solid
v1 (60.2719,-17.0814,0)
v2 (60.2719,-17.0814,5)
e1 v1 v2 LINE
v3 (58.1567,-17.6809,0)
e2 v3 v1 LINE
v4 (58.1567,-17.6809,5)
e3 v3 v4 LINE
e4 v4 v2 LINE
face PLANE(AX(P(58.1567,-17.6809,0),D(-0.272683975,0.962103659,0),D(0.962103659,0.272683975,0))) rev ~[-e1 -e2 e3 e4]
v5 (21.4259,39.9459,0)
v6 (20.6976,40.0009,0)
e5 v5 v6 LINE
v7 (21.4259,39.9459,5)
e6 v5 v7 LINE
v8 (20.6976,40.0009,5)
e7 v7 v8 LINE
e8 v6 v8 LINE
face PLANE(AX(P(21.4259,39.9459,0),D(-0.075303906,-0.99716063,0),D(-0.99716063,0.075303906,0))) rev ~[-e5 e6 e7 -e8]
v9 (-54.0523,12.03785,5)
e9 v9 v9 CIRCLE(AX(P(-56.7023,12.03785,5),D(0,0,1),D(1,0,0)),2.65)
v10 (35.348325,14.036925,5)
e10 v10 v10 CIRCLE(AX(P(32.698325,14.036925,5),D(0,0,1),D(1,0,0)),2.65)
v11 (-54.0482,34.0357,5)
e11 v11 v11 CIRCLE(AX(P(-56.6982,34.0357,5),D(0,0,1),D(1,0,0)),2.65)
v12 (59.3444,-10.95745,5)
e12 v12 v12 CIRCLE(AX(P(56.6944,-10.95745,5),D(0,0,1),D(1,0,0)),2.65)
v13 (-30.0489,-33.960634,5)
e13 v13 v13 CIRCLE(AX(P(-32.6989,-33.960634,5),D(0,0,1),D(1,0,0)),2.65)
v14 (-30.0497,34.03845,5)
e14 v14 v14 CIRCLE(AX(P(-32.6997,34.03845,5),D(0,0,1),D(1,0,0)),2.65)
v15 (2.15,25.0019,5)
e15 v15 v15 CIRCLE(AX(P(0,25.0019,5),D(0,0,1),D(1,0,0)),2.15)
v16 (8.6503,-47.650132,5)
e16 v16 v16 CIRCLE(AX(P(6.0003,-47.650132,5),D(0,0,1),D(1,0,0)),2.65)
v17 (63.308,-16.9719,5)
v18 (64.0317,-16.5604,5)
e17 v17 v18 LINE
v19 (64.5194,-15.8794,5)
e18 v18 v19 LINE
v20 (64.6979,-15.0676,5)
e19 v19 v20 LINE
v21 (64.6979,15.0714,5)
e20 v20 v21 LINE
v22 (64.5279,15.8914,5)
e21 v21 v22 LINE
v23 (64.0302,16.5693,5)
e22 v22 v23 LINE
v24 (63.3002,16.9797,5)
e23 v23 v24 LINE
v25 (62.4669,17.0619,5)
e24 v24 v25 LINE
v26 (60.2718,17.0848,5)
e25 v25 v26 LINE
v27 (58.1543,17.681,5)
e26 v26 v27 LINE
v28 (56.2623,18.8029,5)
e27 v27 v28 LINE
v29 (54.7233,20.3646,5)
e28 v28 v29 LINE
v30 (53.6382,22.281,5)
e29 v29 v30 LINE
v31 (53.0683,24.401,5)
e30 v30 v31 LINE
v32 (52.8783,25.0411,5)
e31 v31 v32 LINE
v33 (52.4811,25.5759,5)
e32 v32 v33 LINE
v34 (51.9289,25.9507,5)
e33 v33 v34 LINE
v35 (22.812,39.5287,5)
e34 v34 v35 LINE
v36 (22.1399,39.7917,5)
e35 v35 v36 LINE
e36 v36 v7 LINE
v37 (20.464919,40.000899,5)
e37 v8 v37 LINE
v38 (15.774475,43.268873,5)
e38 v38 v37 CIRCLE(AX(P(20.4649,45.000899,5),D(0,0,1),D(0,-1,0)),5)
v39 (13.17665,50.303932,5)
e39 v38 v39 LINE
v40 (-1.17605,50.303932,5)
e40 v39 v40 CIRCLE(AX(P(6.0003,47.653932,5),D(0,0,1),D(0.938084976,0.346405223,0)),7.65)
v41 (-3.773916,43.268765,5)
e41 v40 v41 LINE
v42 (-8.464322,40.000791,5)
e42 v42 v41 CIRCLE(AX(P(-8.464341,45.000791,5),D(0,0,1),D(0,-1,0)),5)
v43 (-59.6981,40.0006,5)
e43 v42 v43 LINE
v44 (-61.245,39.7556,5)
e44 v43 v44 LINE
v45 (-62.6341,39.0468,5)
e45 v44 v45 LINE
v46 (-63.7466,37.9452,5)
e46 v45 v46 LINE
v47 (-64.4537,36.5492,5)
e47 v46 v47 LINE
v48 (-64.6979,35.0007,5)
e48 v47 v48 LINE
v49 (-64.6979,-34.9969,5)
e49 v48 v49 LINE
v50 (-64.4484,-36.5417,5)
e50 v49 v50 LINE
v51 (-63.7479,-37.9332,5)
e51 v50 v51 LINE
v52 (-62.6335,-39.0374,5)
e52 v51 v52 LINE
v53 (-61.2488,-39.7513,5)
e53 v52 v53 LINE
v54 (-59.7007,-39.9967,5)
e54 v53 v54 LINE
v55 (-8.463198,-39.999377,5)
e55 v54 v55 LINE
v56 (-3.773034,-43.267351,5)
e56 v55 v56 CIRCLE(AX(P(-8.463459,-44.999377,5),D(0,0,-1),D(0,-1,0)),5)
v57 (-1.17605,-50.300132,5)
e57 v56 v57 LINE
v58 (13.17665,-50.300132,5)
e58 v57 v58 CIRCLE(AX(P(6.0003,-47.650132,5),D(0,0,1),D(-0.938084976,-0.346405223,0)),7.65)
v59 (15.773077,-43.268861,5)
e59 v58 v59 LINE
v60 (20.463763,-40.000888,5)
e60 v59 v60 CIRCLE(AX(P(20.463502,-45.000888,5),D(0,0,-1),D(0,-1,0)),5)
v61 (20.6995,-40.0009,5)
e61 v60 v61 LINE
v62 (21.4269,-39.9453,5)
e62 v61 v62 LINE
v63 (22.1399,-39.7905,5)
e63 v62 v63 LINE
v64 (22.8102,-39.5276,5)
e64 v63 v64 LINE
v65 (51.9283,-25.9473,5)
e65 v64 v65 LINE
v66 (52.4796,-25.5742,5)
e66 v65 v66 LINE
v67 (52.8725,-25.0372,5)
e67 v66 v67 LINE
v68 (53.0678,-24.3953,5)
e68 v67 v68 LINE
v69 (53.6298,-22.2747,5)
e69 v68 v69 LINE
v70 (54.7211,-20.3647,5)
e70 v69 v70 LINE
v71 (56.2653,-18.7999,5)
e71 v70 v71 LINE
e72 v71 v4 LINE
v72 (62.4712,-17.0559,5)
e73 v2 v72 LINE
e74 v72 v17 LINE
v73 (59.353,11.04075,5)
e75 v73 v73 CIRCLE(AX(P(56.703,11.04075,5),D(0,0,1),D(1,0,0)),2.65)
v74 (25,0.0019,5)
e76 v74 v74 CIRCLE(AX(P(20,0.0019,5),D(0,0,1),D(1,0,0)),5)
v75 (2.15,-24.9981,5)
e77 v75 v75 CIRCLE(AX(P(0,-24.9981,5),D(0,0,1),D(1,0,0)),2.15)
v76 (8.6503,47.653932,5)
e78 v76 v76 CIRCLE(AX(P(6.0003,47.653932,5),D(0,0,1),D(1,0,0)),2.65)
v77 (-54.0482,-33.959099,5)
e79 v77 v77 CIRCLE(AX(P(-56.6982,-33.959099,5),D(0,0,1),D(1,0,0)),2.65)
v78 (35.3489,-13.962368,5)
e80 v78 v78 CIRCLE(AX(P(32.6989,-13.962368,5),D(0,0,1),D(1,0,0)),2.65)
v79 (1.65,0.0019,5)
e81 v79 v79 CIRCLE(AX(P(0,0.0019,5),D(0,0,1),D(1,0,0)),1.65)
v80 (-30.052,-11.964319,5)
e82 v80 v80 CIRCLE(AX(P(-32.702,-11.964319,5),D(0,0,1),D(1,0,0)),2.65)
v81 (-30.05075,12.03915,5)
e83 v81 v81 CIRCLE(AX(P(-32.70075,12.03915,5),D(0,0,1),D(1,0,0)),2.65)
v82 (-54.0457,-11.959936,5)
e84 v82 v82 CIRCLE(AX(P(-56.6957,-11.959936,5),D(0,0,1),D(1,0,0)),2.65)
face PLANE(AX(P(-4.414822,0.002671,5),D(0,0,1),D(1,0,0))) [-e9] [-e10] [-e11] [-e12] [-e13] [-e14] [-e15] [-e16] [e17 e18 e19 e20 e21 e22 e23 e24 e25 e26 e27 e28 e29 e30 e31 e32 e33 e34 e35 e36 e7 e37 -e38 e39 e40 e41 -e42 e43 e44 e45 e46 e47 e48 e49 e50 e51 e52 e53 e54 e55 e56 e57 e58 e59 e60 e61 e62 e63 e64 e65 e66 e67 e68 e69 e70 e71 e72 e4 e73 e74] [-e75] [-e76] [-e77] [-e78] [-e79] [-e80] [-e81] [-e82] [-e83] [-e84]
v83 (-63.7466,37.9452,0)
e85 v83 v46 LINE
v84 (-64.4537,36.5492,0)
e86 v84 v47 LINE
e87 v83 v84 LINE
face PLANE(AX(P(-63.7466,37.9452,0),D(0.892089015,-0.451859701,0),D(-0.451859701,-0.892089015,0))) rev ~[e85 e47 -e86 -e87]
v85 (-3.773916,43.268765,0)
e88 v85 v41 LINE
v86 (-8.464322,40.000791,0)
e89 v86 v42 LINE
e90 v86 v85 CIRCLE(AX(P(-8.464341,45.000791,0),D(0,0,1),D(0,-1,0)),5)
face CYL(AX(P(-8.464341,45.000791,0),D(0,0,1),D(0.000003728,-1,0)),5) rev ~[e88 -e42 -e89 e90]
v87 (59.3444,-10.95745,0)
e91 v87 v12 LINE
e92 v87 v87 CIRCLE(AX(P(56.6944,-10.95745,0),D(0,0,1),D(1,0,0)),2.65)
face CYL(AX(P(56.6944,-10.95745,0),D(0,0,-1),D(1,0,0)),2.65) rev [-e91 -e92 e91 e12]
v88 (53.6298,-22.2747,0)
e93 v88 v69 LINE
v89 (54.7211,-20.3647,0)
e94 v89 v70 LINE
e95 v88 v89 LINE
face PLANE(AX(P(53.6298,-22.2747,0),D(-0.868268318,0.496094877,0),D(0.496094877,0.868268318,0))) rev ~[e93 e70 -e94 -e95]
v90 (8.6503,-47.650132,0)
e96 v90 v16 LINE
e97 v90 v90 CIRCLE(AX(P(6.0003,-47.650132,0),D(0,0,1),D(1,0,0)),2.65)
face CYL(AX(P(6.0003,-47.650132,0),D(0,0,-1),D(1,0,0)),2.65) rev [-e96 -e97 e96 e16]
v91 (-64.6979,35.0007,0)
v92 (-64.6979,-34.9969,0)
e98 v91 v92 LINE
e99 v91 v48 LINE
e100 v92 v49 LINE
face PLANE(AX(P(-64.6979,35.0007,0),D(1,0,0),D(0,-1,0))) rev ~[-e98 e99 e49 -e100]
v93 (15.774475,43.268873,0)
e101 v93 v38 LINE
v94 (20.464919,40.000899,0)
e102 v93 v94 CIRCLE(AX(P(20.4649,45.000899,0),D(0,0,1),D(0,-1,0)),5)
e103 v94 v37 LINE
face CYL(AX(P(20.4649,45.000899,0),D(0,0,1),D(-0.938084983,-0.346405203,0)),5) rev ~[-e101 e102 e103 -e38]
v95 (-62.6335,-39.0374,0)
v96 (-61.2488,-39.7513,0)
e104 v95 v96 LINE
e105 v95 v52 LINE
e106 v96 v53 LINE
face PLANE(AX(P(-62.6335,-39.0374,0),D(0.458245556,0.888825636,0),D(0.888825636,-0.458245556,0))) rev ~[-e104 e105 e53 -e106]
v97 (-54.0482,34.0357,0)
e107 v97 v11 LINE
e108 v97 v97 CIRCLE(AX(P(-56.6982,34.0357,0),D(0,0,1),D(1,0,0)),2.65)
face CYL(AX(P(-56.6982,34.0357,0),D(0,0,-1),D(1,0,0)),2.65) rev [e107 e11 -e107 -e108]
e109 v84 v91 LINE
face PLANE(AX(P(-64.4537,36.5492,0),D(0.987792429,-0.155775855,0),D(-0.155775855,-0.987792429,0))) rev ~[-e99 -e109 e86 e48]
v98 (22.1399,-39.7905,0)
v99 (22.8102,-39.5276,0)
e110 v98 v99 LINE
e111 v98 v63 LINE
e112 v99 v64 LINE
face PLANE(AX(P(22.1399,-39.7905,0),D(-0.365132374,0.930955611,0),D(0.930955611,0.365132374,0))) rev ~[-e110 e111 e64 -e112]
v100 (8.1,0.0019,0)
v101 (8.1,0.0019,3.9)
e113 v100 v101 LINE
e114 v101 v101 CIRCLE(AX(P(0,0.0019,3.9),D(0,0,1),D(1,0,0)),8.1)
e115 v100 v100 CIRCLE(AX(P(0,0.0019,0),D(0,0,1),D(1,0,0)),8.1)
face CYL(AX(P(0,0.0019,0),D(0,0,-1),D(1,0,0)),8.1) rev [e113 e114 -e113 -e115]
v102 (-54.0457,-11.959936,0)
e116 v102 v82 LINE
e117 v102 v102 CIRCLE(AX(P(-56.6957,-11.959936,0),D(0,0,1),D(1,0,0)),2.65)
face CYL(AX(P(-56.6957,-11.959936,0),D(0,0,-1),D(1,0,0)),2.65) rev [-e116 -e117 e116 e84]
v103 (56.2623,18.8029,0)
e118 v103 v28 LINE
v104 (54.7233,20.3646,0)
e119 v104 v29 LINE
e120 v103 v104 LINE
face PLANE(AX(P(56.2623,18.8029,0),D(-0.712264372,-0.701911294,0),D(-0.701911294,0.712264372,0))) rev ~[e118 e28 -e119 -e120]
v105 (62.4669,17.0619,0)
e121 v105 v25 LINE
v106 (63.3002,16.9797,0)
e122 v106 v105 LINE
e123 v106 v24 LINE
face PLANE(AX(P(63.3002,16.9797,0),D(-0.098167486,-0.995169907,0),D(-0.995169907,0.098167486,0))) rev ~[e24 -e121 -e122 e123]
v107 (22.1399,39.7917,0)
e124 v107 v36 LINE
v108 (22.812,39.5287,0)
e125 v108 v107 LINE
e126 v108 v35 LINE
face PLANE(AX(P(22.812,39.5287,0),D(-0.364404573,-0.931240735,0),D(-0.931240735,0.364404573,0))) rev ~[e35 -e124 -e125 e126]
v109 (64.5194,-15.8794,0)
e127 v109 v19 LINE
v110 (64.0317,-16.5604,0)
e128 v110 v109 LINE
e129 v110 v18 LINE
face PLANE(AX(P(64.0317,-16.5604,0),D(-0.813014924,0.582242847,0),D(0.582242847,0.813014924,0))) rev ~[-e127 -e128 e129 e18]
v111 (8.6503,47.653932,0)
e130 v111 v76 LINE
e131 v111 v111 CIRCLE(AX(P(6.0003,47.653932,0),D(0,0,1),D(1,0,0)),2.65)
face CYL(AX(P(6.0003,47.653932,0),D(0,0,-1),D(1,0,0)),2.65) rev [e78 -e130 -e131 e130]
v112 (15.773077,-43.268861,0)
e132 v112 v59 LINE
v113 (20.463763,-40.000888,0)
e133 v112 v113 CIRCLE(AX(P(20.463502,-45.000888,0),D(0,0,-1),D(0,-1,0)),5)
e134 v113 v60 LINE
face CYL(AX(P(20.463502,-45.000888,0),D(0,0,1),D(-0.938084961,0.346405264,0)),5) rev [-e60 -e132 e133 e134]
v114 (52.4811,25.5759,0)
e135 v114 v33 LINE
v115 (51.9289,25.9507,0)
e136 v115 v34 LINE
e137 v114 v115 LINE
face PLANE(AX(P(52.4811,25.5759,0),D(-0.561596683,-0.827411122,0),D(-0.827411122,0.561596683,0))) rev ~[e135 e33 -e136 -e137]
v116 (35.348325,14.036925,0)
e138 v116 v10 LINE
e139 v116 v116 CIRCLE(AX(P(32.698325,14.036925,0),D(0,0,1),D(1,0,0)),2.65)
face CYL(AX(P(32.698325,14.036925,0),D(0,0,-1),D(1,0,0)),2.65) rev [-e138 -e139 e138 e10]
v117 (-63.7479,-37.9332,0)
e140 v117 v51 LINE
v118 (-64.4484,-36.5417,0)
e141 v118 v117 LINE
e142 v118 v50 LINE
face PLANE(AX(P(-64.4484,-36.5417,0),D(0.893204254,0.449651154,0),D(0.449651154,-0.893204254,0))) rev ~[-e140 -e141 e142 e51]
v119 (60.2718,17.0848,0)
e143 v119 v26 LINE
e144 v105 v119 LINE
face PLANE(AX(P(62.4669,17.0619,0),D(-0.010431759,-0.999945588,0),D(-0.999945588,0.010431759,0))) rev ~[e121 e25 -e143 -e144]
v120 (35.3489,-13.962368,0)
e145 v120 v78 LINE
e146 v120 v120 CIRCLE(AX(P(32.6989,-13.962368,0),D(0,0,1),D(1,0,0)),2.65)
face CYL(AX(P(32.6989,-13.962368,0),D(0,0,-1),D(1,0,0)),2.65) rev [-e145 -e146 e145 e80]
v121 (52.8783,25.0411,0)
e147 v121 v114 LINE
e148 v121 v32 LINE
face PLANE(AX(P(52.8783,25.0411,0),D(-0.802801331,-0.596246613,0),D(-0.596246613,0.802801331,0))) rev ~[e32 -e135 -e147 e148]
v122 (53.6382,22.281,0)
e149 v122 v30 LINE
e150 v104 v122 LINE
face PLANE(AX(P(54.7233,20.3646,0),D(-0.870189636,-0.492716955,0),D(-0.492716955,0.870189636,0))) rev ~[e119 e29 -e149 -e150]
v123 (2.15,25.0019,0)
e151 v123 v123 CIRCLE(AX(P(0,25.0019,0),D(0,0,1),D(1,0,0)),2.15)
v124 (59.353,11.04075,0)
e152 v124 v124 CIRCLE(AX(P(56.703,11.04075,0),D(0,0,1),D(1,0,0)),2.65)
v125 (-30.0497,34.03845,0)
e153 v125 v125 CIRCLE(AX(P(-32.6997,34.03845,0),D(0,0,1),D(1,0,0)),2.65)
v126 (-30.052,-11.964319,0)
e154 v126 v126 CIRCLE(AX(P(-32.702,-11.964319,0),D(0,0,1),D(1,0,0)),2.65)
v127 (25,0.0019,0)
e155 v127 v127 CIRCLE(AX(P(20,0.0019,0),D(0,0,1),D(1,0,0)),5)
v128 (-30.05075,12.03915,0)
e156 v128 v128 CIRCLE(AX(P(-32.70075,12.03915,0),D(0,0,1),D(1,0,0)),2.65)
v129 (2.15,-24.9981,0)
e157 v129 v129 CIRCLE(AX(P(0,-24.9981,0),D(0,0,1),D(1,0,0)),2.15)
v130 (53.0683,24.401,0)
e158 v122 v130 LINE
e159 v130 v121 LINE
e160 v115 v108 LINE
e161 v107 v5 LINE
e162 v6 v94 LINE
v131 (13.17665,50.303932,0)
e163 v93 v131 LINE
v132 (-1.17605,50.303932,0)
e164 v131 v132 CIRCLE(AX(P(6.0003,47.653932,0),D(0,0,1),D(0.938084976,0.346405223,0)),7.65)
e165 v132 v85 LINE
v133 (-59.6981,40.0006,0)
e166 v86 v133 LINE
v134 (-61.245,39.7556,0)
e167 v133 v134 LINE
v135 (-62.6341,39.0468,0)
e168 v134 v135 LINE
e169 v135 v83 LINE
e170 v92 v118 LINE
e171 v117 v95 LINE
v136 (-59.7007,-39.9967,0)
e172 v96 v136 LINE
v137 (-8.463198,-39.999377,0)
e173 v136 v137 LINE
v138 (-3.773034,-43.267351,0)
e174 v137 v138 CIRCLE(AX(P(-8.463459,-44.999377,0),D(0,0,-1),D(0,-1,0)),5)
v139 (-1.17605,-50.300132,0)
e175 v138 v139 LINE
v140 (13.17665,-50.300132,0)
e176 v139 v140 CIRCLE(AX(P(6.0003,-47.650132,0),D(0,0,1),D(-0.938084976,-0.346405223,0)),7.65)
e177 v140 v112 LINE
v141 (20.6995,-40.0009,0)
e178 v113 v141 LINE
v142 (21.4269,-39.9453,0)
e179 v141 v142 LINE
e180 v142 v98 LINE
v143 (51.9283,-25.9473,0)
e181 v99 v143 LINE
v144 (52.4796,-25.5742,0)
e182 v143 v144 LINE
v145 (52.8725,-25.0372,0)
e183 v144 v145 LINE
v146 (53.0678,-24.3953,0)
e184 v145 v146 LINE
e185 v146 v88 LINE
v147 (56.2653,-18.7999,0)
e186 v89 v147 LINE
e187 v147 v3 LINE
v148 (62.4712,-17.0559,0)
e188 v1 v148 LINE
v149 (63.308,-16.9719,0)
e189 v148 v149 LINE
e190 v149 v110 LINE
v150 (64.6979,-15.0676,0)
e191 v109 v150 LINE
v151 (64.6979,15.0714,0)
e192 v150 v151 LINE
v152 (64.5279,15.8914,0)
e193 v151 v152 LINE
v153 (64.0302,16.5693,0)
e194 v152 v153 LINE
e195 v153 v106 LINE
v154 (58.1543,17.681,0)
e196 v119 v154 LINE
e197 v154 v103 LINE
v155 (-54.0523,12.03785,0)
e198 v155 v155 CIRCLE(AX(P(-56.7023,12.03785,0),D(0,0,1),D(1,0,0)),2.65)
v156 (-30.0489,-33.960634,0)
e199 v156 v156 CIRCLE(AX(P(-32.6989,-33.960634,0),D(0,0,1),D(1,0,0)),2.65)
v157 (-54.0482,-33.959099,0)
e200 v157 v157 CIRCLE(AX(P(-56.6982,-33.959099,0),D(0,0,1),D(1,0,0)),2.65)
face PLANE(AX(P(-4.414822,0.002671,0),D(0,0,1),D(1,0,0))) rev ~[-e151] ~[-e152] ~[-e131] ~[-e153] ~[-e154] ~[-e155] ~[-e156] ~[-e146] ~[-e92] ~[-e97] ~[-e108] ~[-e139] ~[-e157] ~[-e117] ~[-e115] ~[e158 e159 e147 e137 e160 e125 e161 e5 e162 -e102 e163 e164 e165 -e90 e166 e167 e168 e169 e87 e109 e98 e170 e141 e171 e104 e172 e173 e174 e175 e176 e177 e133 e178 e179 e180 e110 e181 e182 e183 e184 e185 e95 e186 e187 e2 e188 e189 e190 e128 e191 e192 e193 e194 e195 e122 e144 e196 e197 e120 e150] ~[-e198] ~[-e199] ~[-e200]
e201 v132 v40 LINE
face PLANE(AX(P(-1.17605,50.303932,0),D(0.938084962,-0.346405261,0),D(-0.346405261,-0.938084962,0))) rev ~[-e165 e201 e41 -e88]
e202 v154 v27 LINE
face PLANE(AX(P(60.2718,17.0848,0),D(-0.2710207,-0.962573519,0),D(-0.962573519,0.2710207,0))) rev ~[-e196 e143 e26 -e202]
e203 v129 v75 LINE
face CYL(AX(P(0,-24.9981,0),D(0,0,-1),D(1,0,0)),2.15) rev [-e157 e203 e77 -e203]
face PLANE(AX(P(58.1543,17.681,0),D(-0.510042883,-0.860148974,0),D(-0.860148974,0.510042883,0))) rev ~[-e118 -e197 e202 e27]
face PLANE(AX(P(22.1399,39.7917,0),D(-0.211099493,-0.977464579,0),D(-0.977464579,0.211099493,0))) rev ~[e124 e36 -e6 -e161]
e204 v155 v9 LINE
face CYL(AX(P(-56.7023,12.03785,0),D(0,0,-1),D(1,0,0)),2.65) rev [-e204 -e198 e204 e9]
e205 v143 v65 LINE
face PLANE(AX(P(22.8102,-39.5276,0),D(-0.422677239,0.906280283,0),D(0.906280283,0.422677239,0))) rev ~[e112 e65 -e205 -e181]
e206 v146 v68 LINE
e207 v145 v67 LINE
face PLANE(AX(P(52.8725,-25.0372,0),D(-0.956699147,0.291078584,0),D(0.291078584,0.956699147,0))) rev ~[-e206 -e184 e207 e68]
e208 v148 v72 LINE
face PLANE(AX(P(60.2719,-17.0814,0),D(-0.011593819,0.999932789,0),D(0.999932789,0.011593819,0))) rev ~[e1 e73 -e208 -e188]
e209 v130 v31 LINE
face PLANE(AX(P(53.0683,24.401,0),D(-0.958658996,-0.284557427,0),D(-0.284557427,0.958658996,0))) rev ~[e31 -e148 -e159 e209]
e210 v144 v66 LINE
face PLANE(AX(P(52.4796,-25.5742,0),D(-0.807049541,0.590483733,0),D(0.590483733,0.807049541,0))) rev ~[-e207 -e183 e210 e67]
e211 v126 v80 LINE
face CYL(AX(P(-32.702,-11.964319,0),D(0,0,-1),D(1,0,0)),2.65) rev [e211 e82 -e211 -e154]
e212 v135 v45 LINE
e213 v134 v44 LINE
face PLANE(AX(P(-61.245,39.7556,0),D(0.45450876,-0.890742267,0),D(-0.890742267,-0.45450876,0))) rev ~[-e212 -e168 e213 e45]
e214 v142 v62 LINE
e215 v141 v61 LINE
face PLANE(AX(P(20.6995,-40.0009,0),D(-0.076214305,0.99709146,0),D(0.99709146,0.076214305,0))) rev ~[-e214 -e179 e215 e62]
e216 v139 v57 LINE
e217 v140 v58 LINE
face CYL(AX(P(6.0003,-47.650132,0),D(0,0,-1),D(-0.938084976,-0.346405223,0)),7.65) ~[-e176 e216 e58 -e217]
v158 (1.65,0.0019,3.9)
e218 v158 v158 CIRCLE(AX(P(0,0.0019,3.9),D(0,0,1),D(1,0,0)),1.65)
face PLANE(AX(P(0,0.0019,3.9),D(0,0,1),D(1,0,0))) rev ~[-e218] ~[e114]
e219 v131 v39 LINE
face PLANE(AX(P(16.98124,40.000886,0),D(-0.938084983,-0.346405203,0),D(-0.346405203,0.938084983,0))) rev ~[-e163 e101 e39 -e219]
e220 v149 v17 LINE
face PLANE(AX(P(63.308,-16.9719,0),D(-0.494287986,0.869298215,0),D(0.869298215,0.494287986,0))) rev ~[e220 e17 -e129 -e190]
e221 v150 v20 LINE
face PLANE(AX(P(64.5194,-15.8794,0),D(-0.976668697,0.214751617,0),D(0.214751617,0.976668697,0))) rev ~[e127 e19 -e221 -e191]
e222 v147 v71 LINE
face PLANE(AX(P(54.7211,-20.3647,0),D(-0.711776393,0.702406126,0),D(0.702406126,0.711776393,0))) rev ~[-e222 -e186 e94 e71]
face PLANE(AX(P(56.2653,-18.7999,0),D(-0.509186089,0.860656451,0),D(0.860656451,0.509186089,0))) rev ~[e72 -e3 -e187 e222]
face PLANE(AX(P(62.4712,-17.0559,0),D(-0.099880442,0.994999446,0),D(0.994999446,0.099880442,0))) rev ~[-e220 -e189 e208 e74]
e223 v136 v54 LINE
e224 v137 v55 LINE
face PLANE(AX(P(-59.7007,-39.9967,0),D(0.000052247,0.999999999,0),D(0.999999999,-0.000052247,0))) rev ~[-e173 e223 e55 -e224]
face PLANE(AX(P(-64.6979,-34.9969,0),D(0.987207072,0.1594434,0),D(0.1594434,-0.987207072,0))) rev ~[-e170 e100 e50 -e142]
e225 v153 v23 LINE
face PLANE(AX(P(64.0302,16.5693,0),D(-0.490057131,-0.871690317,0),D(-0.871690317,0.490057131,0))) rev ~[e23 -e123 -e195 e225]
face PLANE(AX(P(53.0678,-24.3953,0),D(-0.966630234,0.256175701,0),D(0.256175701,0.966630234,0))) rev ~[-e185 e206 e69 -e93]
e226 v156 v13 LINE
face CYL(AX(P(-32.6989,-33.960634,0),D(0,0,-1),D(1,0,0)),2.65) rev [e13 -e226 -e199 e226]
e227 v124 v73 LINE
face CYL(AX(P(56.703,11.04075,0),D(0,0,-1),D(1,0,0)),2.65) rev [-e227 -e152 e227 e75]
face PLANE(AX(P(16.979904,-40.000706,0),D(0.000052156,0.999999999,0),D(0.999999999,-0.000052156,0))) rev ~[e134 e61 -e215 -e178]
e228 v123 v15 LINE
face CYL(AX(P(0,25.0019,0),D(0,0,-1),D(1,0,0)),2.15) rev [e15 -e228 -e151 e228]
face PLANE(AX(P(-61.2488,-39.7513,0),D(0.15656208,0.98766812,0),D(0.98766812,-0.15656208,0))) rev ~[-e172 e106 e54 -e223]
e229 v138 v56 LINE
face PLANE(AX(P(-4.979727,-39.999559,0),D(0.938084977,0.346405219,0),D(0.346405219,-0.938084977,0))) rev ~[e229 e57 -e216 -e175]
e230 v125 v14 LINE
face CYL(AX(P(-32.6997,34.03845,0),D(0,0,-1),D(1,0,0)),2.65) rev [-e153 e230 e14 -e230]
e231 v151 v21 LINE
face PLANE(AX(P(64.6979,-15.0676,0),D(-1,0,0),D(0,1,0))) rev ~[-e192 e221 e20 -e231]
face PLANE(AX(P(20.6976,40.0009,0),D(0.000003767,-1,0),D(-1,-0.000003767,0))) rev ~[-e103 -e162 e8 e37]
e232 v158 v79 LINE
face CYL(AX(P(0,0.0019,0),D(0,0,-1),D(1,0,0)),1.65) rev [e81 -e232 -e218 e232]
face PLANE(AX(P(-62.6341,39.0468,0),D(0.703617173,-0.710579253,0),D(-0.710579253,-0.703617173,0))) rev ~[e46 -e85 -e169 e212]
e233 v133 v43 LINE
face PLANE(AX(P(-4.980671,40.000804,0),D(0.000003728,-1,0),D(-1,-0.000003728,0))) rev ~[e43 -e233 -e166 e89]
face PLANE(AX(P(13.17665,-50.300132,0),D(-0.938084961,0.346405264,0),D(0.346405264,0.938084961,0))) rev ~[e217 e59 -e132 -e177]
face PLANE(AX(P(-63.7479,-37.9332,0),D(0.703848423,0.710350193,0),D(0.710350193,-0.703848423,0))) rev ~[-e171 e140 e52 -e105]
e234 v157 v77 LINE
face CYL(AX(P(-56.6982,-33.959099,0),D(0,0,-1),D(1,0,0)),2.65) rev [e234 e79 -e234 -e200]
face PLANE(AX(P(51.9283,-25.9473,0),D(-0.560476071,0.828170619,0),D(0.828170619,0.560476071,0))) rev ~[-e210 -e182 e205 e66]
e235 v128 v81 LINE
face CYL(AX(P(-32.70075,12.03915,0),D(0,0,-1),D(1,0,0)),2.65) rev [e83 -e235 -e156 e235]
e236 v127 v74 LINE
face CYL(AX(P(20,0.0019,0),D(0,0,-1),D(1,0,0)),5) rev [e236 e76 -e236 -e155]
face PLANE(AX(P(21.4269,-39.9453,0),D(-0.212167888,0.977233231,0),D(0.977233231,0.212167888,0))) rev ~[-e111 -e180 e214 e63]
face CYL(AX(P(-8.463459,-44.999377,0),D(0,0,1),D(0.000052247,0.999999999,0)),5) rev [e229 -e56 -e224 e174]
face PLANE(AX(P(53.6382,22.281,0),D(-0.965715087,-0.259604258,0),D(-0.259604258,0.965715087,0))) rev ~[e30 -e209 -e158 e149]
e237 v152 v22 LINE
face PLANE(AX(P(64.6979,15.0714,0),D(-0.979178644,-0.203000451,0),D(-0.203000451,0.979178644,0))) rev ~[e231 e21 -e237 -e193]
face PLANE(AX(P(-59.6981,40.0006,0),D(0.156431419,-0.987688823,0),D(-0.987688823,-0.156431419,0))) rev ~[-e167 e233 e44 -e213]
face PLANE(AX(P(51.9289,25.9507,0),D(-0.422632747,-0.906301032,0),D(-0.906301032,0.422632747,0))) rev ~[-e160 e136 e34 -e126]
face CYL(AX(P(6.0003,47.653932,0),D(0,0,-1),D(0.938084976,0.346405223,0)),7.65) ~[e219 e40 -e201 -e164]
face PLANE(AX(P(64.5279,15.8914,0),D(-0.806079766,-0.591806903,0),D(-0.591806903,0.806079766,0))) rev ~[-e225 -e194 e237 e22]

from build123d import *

# Parameters (mm, degrees)
F1_R     = 2.65
F1_R_2   = 2.15
F1_R_3   = 8.1
F1_R_4   = 5
F1_R_5   = 1.65
F2_DEPTH = 5
F3_DEPTH = 3.9
F4_R     = 5


with BuildPart() as f2:
    # F1 (on Top) → F2 (new body)
    with BuildSketch(Plane.XY):
        with BuildLine():
            Line((-64.4537, 36.5492), (-64.6979, 35.0007))
            Line((-64.6979, 35.0007), (-64.6979, -34.9969))
            Line((-64.6979, -34.9969), (-64.4484, -36.5417))
            Line((-64.4484, -36.5417), (-63.7479, -37.9332))
            Line((-63.7479, -37.9332), (-62.6335, -39.0374))
            Line((-62.6335, -39.0374), (-61.2488, -39.7513))
            Line((-61.2488, -39.7513), (-59.7007, -39.9967))
            Line((-59.7007, -39.9967), (-4.979727, -39.999559))
            Line((-4.979727, -39.999559), (-1.17605, -50.300132))
            ThreePointArc((-1.17605, -50.300132), (6.0003, -55.300132), (13.17665, -50.300132))
            Line((13.17665, -50.300132), (16.979904, -40.000706))
            Line((16.979904, -40.000706), (20.6995, -40.0009))
            Line((20.6995, -40.0009), (21.4269, -39.9453))
            Line((21.4269, -39.9453), (22.1399, -39.7905))
            Line((22.1399, -39.7905), (22.8102, -39.5276))
            Line((22.8102, -39.5276), (51.9283, -25.9473))
            Line((51.9283, -25.9473), (52.4796, -25.5742))
            Line((52.4796, -25.5742), (52.8725, -25.0372))
            Line((52.8725, -25.0372), (53.0678, -24.3953))
            Line((53.0678, -24.3953), (53.6298, -22.2747))
            Line((53.6298, -22.2747), (54.7211, -20.3647))
            Line((54.7211, -20.3647), (56.2653, -18.7999))
            Line((56.2653, -18.7999), (58.1567, -17.6809))
            Line((58.1567, -17.6809), (60.2719, -17.0814))
            Line((60.2719, -17.0814), (62.4712, -17.0559))
            Line((62.4712, -17.0559), (63.308, -16.9719))
            Line((63.308, -16.9719), (64.0317, -16.5604))
            Line((64.0317, -16.5604), (64.5194, -15.8794))
            Line((64.5194, -15.8794), (64.6979, -15.0676))
            Line((64.6979, -15.0676), (64.6979, 15.0714))
            Line((64.6979, 15.0714), (64.5279, 15.8914))
            Line((64.5279, 15.8914), (64.0302, 16.5693))
            Line((64.0302, 16.5693), (63.3002, 16.9797))
            Line((63.3002, 16.9797), (62.4669, 17.0619))
            Line((62.4669, 17.0619), (60.2718, 17.0848))
            Line((60.2718, 17.0848), (58.1543, 17.681))
            Line((58.1543, 17.681), (56.2623, 18.8029))
            Line((56.2623, 18.8029), (54.7233, 20.3646))
            Line((54.7233, 20.3646), (53.6382, 22.281))
            Line((53.6382, 22.281), (53.0683, 24.401))
            Line((53.0683, 24.401), (52.8783, 25.0411))
            Line((52.8783, 25.0411), (52.4811, 25.5759))
            Line((52.4811, 25.5759), (51.9289, 25.9507))
            Line((51.9289, 25.9507), (22.812, 39.5287))
            Line((22.812, 39.5287), (22.1399, 39.7917))
            Line((22.1399, 39.7917), (21.4259, 39.9459))
            Line((21.4259, 39.9459), (20.6976, 40.0009))
            Line((20.6976, 40.0009), (16.98124, 40.000886))
            Line((16.98124, 40.000886), (13.17665, 50.303932))
            ThreePointArc((13.17665, 50.303932), (6.0003, 55.303932), (-1.17605, 50.303932))
            Line((-1.17605, 50.303932), (-4.980671, 40.000804))
            Line((-4.980671, 40.000804), (-59.6981, 40.0006))
            Line((-59.6981, 40.0006), (-61.245, 39.7556))
            Line((-61.245, 39.7556), (-62.6341, 39.0468))
            Line((-62.6341, 39.0468), (-63.7466, 37.9452))
            Line((-63.7466, 37.9452), (-64.4537, 36.5492))
        make_face()
        with Locations((-56.6982, -33.959099)):
            Circle(F1_R, mode=Mode.SUBTRACT)
        with Locations((-32.6989, -33.960634)):
            Circle(F1_R, mode=Mode.SUBTRACT)
        with Locations((-56.6957, -11.959936)):
            Circle(F1_R, mode=Mode.SUBTRACT)
        with Locations((-32.702, -11.964319)):
            Circle(F1_R, mode=Mode.SUBTRACT)
        with Locations((6.0003, -47.650132)):
            Circle(F1_R, mode=Mode.SUBTRACT)
        with Locations((0, -24.9981)):
            Circle(F1_R_2, mode=Mode.SUBTRACT)
        with Locations((32.6989, -13.962368)):
            Circle(F1_R, mode=Mode.SUBTRACT)
        with Locations((56.6944, -10.95745)):
            Circle(F1_R, mode=Mode.SUBTRACT)
        with Locations((-56.7023, 12.03785)):
            Circle(F1_R, mode=Mode.SUBTRACT)
        with Locations((-32.70075, 12.03915)):
            Circle(F1_R, mode=Mode.SUBTRACT)
        with Locations((-56.6982, 34.0357)):
            Circle(F1_R, mode=Mode.SUBTRACT)
        with Locations((-32.6997, 34.03845)):
            Circle(F1_R, mode=Mode.SUBTRACT)
        with Locations((0, 0.0019)):
            Circle(F1_R_3, mode=Mode.SUBTRACT)
        with Locations((20, 0.0019)):
            Circle(F1_R_4, mode=Mode.SUBTRACT)
        with Locations((0, 25.0019)):
            Circle(F1_R_2, mode=Mode.SUBTRACT)
        with Locations((56.703, 11.04075)):
            Circle(F1_R, mode=Mode.SUBTRACT)
        with Locations((32.698325, 14.036925)):
            Circle(F1_R, mode=Mode.SUBTRACT)
        with Locations((6.0003, 47.653932)):
            Circle(F1_R, mode=Mode.SUBTRACT)
        with Locations((0, 0.0019)):
            Circle(F1_R_3)
        with Locations((0, 0.0019)):
            Circle(F1_R_5, mode=Mode.SUBTRACT)
    extrude(amount=F2_DEPTH)

    # F1 (on Top) → F3 (cut)
    with BuildSketch(Plane.XY):
        with Locations((0, 0.0019)):
            Circle(F1_R_3)
        with Locations((0, 0.0019)):
            Circle(F1_R_5, mode=Mode.SUBTRACT)
    extrude(amount=F3_DEPTH, mode=Mode.SUBTRACT)

    # F4
    f4_edges = [f2.edges().sort_by_distance(p)[0] for p in [
        (-4.979727, -39.999559, 2.5),
        (16.979904, -40.000706, 2.5),
        (-4.980671, 40.000804, 2.5),
        (16.98124, 40.000886, 2.5),
    ]]
    fillet(f4_edges, radius=F4_R)


solid = f2.part
